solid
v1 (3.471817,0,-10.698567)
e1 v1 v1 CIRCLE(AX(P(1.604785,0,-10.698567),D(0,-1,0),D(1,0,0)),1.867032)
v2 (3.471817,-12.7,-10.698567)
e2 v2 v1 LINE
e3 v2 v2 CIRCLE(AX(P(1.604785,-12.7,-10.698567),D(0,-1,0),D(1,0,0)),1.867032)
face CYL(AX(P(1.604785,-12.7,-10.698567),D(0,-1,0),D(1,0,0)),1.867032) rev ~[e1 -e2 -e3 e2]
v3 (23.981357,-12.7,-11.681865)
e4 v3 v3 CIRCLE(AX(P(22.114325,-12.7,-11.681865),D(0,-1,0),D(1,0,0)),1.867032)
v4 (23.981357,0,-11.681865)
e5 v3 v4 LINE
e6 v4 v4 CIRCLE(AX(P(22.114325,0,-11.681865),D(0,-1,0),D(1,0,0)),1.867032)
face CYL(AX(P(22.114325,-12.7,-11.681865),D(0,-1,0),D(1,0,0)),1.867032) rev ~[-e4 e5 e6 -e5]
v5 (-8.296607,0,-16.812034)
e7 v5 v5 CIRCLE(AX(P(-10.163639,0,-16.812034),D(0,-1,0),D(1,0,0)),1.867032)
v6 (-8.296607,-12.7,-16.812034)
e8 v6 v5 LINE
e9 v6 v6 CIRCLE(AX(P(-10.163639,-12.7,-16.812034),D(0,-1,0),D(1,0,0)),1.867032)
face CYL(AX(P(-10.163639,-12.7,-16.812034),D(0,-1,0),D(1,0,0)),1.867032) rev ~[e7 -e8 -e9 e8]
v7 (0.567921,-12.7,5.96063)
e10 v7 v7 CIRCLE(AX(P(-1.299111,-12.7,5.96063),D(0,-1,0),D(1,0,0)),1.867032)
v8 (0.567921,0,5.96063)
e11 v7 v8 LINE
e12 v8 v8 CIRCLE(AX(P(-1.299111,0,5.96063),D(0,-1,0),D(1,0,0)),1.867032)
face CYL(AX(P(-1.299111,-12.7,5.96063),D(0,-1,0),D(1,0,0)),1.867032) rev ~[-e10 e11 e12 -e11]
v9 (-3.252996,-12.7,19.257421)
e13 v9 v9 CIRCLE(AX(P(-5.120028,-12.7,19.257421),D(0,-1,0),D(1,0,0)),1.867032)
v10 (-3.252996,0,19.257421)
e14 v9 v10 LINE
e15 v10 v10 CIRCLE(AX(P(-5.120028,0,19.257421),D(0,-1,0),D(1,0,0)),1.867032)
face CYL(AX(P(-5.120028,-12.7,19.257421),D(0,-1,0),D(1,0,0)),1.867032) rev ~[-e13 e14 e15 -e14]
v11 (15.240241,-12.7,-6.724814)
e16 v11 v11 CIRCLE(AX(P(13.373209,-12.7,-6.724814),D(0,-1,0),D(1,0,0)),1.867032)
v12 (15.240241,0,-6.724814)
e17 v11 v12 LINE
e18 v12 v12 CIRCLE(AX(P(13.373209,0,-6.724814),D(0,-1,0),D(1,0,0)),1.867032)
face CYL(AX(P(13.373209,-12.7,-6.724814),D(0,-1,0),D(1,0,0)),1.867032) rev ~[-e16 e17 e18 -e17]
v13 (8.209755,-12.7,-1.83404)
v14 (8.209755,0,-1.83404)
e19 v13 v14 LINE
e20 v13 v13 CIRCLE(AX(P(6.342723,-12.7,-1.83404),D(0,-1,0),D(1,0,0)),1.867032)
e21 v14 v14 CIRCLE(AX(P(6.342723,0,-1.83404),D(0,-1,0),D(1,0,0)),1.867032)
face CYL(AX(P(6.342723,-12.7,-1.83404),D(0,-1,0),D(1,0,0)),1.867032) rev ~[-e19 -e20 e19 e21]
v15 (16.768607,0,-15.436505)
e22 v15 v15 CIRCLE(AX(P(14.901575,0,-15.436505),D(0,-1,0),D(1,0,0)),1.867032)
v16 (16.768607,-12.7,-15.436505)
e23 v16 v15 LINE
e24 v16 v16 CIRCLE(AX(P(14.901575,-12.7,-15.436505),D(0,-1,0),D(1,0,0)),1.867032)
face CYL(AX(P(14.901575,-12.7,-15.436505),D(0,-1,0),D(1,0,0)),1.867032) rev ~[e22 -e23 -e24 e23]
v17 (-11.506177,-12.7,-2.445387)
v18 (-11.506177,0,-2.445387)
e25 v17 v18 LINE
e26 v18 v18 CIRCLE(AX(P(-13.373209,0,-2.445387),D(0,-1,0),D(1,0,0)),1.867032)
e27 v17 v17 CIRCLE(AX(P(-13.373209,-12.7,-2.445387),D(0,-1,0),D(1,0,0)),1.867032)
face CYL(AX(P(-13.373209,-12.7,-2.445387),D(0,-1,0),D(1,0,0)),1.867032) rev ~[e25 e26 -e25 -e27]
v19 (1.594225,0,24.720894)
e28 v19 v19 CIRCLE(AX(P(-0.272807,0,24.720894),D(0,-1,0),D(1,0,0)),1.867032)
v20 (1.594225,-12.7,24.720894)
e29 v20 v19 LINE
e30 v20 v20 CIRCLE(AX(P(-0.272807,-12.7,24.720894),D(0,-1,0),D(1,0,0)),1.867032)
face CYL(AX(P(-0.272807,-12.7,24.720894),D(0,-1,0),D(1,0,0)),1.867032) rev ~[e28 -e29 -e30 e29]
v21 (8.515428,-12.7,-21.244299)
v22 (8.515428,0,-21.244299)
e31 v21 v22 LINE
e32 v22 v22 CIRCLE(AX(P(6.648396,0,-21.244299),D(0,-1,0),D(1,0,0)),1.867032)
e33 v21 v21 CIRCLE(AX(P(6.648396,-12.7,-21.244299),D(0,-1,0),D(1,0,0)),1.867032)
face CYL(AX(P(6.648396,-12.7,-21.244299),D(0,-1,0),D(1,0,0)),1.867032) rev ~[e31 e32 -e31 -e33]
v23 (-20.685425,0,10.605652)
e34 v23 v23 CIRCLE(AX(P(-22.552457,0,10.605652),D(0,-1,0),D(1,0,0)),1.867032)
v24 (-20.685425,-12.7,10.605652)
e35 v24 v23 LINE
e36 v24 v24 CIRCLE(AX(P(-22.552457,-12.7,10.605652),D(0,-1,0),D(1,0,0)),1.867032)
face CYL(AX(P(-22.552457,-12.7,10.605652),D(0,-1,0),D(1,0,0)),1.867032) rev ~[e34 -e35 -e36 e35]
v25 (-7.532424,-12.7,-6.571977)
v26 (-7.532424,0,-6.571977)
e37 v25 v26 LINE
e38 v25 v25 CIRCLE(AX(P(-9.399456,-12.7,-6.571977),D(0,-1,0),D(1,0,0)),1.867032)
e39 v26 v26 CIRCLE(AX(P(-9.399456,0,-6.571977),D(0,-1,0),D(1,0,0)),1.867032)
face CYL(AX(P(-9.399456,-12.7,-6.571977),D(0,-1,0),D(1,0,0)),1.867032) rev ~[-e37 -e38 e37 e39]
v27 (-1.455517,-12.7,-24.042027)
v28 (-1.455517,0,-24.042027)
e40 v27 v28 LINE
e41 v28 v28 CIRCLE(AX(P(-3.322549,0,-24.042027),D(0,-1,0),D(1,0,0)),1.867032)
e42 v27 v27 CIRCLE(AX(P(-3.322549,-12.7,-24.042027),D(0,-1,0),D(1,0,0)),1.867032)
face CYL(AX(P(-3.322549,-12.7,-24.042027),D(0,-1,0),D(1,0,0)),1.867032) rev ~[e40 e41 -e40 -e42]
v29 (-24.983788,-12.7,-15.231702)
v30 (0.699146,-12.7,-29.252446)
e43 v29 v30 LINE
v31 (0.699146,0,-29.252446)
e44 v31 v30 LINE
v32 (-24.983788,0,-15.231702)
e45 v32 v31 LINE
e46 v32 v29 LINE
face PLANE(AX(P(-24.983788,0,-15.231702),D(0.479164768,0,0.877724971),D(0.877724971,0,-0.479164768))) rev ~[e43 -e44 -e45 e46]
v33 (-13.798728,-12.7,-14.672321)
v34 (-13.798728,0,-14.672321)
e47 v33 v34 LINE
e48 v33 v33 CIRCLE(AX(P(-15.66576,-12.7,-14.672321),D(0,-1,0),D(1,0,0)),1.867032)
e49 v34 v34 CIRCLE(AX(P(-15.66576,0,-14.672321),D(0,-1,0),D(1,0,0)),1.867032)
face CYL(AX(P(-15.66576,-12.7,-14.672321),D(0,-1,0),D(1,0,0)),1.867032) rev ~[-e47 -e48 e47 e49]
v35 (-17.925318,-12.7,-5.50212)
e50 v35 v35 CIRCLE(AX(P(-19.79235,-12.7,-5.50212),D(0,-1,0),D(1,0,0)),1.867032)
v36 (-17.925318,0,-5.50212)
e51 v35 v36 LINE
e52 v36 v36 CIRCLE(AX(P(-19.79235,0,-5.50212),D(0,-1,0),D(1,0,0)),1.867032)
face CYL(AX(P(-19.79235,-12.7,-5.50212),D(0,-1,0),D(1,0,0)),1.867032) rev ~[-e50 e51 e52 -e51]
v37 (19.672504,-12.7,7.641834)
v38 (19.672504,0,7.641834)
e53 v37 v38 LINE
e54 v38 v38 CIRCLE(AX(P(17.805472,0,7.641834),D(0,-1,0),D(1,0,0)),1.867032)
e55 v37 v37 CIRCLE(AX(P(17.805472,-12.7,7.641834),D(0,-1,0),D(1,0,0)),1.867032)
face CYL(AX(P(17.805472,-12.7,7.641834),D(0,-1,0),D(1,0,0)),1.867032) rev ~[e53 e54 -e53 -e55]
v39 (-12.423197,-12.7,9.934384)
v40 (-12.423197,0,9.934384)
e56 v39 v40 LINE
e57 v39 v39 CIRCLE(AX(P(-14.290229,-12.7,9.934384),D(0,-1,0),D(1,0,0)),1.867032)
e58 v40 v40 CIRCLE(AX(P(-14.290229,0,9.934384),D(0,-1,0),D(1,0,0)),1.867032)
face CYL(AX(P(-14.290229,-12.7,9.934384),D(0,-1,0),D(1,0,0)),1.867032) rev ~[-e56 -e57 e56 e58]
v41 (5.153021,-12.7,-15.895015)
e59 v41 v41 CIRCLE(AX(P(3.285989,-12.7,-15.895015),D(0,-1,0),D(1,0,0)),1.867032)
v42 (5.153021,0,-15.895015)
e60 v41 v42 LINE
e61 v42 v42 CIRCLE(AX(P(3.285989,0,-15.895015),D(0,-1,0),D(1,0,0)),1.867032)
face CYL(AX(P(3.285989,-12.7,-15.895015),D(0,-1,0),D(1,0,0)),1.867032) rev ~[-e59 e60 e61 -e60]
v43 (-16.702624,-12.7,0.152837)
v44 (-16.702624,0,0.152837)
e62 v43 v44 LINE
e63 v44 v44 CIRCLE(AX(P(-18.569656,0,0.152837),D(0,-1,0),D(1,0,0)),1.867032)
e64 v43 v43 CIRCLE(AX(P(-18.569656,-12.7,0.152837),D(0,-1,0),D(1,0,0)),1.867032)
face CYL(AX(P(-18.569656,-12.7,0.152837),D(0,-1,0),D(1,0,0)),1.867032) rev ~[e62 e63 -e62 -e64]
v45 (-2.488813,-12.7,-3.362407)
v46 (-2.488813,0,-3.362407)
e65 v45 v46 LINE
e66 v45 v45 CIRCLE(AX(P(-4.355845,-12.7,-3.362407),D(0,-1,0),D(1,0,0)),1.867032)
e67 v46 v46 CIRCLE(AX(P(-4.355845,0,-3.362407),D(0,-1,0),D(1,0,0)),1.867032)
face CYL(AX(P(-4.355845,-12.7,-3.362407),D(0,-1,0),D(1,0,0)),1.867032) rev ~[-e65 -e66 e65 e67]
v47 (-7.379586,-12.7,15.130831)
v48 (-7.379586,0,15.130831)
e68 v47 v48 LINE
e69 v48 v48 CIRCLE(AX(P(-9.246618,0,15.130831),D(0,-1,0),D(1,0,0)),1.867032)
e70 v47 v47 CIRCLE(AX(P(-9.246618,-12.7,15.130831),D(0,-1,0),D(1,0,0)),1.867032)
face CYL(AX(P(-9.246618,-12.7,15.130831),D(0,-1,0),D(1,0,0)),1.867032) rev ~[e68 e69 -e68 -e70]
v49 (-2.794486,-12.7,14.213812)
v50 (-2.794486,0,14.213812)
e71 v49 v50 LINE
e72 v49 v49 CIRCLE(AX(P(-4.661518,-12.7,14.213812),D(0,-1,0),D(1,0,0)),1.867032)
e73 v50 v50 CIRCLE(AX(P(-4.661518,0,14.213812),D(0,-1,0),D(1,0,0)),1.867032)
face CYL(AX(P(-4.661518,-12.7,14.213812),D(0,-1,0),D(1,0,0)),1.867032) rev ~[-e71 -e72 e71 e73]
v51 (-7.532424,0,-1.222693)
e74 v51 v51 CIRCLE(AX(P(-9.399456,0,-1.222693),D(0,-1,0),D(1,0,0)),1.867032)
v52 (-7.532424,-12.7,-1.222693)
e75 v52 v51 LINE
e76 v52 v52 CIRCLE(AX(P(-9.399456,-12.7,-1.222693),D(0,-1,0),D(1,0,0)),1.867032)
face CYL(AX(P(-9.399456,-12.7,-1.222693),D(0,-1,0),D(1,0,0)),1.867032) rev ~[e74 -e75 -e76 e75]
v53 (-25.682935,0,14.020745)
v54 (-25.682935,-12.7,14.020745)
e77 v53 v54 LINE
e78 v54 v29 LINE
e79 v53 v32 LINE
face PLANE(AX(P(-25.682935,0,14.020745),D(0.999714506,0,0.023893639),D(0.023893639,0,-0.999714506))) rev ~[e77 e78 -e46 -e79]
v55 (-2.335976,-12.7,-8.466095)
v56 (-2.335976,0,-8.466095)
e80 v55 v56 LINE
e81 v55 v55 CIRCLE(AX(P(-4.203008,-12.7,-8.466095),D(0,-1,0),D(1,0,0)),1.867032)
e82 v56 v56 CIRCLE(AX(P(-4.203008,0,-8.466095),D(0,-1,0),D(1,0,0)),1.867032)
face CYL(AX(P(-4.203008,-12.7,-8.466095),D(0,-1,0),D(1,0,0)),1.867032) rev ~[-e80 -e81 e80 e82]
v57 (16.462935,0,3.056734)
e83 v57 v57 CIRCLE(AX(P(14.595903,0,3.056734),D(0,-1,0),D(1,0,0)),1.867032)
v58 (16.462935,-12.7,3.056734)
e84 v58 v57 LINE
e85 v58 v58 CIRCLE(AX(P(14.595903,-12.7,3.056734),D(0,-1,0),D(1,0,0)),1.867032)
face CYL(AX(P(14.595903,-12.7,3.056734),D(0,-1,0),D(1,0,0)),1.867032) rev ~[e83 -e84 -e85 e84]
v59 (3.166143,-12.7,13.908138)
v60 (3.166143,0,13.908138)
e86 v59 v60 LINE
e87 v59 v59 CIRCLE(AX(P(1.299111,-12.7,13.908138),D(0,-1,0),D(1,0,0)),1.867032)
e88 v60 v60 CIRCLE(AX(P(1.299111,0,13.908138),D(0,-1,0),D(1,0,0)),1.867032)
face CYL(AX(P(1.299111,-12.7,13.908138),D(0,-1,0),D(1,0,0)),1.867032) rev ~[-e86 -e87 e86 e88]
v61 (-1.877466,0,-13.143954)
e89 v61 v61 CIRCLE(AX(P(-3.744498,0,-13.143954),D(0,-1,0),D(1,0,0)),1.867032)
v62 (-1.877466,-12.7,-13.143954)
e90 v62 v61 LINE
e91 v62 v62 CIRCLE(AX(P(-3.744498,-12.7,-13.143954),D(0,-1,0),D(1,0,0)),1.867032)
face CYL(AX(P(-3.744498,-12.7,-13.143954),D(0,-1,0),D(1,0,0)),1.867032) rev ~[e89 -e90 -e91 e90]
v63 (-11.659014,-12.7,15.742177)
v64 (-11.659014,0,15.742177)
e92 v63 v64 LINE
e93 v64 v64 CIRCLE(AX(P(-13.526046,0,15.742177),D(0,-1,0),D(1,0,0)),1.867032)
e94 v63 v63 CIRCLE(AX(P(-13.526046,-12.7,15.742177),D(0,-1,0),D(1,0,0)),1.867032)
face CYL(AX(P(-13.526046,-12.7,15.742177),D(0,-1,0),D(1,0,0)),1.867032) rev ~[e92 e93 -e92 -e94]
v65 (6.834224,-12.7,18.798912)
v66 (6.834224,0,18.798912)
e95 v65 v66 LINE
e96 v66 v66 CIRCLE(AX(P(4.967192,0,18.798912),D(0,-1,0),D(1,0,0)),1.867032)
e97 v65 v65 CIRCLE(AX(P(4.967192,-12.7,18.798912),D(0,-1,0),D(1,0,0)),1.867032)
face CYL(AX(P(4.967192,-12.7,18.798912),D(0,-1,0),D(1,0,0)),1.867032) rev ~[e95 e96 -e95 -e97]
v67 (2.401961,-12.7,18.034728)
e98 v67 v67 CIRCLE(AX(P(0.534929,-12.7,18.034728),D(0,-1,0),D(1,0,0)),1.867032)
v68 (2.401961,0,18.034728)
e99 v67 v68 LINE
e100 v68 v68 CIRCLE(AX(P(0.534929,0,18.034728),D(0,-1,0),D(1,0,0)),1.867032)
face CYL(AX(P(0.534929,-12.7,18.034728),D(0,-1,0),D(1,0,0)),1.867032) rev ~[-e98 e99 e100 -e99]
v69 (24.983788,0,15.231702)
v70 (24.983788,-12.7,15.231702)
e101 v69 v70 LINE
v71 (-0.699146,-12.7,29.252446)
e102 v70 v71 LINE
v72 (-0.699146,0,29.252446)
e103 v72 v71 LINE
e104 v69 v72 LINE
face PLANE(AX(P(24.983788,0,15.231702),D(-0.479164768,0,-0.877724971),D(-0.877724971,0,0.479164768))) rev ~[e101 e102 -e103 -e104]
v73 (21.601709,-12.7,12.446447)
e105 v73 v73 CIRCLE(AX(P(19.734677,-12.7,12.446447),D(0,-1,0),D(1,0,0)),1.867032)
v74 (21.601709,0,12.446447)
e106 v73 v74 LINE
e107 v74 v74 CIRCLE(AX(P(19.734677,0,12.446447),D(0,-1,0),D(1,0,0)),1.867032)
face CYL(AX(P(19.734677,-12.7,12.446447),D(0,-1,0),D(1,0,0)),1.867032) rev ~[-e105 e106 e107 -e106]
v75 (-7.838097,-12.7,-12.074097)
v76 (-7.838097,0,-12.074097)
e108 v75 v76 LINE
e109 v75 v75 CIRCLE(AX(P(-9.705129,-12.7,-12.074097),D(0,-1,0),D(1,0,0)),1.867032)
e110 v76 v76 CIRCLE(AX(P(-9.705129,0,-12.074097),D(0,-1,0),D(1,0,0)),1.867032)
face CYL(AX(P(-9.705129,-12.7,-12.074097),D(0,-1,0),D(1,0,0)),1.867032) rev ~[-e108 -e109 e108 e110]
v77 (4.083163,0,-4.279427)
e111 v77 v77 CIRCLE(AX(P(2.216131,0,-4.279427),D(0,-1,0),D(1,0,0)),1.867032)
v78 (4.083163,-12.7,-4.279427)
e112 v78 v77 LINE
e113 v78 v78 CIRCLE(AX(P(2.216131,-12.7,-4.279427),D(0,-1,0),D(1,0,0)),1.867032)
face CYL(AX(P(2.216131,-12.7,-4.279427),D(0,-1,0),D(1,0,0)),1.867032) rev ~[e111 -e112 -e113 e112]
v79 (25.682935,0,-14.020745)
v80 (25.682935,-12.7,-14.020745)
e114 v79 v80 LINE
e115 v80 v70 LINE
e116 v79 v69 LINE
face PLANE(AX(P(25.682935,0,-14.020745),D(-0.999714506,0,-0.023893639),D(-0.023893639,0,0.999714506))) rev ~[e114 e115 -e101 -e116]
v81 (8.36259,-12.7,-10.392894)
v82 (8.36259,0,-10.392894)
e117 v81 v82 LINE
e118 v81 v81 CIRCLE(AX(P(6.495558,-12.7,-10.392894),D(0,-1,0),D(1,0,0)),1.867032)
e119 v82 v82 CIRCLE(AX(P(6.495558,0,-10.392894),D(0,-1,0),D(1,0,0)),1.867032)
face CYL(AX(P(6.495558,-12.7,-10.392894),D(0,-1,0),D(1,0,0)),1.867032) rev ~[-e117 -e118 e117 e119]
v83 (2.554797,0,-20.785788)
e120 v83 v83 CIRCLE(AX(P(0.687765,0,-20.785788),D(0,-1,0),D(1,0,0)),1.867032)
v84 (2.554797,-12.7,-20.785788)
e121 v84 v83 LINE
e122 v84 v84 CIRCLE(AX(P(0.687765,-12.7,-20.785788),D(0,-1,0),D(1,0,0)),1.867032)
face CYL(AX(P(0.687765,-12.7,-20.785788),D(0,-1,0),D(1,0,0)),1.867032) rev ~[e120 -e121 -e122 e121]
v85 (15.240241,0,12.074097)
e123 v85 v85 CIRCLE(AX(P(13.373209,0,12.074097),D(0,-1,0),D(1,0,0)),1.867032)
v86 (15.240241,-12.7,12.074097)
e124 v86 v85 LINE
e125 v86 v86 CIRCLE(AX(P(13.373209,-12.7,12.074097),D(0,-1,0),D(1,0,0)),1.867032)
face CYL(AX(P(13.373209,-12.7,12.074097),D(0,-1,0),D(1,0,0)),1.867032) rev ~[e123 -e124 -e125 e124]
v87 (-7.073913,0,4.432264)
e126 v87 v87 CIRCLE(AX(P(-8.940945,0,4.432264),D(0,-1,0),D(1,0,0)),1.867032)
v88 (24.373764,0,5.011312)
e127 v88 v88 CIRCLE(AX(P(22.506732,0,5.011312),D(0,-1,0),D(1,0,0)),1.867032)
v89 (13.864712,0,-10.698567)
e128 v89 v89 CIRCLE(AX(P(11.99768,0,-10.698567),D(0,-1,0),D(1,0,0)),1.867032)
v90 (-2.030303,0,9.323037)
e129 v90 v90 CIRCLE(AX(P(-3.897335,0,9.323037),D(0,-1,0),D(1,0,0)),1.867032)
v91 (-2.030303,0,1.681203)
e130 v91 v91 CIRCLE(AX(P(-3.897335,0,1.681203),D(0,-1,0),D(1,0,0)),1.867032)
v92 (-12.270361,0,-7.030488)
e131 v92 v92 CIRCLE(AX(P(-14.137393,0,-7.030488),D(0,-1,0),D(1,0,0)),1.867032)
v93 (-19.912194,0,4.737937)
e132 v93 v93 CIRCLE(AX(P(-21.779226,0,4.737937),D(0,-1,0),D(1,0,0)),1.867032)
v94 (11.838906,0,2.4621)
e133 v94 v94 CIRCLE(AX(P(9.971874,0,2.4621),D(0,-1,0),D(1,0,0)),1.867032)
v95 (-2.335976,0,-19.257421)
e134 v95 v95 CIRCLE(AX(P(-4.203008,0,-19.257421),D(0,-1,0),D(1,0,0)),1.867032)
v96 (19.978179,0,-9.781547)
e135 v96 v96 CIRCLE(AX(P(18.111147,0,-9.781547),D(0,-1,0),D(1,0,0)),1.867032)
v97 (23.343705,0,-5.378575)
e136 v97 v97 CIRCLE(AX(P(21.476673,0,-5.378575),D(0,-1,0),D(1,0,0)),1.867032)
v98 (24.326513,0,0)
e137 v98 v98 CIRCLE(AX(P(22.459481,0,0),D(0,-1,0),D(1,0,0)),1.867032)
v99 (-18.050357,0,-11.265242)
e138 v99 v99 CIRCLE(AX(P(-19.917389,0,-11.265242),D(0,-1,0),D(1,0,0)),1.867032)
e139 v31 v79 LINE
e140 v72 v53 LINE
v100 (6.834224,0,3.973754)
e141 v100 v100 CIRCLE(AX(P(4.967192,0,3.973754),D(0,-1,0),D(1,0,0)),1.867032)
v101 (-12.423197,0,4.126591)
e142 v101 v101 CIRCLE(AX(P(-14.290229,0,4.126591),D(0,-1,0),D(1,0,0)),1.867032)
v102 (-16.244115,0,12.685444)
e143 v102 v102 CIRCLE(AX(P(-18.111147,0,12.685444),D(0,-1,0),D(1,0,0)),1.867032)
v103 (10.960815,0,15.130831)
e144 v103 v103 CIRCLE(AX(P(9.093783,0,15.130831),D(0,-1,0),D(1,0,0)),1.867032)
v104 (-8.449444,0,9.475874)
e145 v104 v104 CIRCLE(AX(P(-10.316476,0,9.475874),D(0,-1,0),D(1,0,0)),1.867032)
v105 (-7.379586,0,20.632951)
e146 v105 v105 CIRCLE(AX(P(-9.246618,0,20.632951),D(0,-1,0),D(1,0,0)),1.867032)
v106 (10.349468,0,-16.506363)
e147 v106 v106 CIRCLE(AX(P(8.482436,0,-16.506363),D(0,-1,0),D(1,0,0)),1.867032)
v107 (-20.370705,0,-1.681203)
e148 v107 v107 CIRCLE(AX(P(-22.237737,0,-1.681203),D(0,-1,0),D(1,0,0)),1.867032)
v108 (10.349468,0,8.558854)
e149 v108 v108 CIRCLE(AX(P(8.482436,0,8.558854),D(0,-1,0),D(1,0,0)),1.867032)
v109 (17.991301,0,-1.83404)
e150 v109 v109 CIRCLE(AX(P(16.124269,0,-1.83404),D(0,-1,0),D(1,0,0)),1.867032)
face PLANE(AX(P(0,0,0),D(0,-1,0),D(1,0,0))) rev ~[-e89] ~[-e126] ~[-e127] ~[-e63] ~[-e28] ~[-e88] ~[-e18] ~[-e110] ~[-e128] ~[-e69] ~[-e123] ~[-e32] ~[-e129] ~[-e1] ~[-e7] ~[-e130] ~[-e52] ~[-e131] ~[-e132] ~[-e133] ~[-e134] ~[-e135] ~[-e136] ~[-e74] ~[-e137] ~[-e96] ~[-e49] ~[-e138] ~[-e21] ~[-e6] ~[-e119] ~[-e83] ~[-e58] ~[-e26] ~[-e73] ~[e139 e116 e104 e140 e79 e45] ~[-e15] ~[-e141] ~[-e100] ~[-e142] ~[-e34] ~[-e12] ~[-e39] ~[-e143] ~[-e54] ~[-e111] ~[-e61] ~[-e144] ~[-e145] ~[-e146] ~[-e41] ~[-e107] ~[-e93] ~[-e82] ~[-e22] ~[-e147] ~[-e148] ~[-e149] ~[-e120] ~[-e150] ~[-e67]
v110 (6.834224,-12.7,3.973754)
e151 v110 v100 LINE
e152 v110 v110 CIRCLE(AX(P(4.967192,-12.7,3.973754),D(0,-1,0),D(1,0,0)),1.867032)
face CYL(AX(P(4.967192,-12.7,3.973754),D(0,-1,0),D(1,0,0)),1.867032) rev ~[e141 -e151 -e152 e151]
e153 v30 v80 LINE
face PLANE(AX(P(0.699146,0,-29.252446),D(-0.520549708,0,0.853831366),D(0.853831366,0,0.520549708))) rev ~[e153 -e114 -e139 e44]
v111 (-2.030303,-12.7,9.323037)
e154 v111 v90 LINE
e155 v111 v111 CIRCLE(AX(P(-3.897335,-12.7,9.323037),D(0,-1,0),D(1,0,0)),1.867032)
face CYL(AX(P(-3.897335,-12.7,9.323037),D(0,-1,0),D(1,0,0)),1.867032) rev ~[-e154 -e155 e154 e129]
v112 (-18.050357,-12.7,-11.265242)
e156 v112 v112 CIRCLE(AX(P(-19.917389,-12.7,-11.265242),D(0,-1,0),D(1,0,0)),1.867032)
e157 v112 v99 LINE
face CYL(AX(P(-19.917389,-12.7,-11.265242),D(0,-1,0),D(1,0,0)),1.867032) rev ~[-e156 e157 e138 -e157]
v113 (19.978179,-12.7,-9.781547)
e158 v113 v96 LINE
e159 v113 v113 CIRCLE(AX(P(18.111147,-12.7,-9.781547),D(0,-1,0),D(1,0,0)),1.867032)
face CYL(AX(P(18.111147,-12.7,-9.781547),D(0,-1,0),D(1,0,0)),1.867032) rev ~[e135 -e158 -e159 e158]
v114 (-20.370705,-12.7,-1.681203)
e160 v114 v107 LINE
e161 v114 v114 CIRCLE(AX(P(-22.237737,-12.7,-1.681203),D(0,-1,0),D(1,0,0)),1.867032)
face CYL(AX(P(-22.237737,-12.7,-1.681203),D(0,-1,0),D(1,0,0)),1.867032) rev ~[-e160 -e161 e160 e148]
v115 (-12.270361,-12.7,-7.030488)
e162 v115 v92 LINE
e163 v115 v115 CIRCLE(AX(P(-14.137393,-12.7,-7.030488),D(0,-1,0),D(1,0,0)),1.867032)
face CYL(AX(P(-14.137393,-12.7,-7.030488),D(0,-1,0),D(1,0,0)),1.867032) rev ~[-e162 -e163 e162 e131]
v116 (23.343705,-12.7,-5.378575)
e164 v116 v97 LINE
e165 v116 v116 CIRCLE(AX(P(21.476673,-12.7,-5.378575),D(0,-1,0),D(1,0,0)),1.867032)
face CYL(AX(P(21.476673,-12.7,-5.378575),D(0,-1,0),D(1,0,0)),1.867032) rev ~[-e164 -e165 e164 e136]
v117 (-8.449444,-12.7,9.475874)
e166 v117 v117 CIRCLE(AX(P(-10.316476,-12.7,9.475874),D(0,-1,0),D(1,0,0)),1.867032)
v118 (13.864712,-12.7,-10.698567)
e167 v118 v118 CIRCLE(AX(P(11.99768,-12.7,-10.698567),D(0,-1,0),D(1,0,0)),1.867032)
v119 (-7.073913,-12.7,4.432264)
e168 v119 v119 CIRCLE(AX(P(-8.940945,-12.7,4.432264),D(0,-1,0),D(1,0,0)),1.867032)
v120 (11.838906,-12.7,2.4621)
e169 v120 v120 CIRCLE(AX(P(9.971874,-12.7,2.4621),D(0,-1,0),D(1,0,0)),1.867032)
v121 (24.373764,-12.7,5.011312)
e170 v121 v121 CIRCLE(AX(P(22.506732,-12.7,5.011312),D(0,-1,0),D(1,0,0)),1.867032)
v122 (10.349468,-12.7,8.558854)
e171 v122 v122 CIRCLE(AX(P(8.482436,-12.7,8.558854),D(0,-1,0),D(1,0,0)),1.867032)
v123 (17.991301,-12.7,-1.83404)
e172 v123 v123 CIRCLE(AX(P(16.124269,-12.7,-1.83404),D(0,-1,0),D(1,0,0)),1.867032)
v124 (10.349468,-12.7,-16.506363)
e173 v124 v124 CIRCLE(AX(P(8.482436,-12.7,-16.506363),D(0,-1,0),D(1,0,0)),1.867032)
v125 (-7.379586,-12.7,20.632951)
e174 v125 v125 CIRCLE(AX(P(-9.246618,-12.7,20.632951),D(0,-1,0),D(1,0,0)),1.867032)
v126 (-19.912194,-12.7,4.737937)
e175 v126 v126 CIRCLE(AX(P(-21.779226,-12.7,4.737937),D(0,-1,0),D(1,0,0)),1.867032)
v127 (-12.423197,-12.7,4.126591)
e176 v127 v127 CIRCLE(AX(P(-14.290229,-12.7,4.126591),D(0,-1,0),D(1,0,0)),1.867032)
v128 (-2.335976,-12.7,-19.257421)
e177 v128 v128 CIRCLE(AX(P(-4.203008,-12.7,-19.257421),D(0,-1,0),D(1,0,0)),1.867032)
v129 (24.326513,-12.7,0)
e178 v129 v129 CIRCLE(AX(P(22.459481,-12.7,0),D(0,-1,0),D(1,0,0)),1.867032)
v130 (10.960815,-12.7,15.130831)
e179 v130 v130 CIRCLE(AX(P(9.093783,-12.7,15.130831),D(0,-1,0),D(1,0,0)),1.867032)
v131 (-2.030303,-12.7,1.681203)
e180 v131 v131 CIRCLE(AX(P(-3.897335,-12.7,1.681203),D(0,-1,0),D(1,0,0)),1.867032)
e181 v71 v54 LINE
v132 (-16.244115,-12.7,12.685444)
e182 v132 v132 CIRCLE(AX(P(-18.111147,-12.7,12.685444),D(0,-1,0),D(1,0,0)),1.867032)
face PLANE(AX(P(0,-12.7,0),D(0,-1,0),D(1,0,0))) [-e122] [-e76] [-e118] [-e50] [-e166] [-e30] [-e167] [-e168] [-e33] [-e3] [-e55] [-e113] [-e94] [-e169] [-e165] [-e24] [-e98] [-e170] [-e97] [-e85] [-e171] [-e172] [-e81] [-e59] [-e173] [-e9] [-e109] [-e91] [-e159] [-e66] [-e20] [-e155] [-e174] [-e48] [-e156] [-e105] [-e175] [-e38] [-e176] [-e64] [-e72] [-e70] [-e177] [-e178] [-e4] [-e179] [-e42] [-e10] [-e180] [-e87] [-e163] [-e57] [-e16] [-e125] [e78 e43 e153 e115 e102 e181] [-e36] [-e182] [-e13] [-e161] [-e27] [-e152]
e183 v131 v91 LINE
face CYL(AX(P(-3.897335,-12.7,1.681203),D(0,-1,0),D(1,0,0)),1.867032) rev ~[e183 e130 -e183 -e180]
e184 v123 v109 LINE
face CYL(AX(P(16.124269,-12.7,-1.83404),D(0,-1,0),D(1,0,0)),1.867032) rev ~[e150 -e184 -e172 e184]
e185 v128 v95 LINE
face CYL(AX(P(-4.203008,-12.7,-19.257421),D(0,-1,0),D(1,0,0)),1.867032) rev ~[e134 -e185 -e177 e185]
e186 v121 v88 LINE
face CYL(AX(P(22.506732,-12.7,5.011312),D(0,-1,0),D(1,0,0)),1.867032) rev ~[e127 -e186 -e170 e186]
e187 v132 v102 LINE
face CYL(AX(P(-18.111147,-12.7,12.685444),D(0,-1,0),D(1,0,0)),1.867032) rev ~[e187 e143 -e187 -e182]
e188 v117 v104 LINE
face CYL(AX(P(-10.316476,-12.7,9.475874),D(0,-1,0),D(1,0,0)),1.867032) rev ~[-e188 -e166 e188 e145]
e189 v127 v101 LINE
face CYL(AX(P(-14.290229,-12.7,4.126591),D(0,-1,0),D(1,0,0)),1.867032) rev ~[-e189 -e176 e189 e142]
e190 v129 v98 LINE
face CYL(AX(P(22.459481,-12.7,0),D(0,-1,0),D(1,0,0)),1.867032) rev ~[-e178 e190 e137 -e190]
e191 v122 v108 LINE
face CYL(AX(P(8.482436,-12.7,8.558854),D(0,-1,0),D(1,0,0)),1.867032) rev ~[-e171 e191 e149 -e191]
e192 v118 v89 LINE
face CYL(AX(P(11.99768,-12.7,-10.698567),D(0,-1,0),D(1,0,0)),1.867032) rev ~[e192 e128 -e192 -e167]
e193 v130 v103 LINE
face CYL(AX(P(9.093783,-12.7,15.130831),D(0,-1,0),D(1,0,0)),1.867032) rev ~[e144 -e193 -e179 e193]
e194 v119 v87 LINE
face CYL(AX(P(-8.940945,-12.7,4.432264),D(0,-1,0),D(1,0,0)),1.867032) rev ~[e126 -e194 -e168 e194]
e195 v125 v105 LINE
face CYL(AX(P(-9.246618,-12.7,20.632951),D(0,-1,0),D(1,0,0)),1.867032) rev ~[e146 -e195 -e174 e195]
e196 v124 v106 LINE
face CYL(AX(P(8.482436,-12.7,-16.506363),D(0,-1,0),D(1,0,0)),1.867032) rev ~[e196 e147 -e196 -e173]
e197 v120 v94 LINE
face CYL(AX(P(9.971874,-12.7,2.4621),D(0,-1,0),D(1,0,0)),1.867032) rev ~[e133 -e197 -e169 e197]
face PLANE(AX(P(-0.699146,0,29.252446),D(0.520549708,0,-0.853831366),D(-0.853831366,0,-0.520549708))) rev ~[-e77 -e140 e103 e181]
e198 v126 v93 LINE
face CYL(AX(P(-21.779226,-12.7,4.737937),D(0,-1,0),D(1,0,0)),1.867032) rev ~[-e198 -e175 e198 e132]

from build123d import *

# Parameters (mm, degrees)
F1_DEPTH = 12.7
F2_R     = 1.867032
F3_DEPTH = 14.478


with BuildPart() as f1:
    # F0 (on Front) → F1 (new body)
    with BuildSketch(Plane.XZ):
        Polygon((-0.699146, 29.252446), (-25.682935, 14.020745), (-24.983788, -15.231702), (0.699146, -29.252446), (25.682935, -14.020745), (24.983788, 15.231702), align=None)
    extrude(amount=F1_DEPTH)

    # F2 (on face) → F3 (cut)
    with BuildSketch(Plane.XZ.offset(12.7)):
        with Locations((-22.552457, 10.605652)):
            Circle(F2_R)
        with Locations((-19.917389, -11.265242)):
            Circle(F2_R)
        with Locations((-3.322549, -24.042027)):
            Circle(F2_R)
        with Locations((-4.203008, -8.466095)):
            Circle(F2_R)
        with Locations((9.971874, 2.4621)):
            Circle(F2_R)
        with Locations((22.114325, -11.681865)):
            Circle(F2_R)
        with Locations((21.476673, -5.378575)):
            Circle(F2_R)
        with Locations((22.459481, 0)):
            Circle(F2_R)
        with Locations((22.506732, 5.011312)):
            Circle(F2_R)
        with Locations((19.734677, 12.446447)):
            Circle(F2_R)
        with Locations((-0.272807, 24.720894)):
            Circle(F2_R)
        with Locations((-9.246618, 20.632951)):
            Circle(F2_R)
        with Locations((-9.246618, 15.130831)):
            Circle(F2_R)
        with Locations((-10.316476, 9.475874)):
            Circle(F2_R)
        with Locations((-8.940945, 4.432264)):
            Circle(F2_R)
        with Locations((-9.399456, -1.222693)):
            Circle(F2_R)
        with Locations((-9.399456, -6.571977)):
            Circle(F2_R)
        with Locations((-9.705129, -12.074097)):
            Circle(F2_R)
        with Locations((-10.163639, -16.812034)):
            Circle(F2_R)
        with Locations((-15.66576, -14.672321)):
            Circle(F2_R)
        with Locations((-14.137393, -7.030488)):
            Circle(F2_R)
        with Locations((-13.373209, -2.445387)):
            Circle(F2_R)
        with Locations((-14.290229, 4.126591)):
            Circle(F2_R)
        with Locations((-14.290229, 9.934384)):
            Circle(F2_R)
        with Locations((-13.526046, 15.742177)):
            Circle(F2_R)
        with Locations((-18.111147, 12.685444)):
            Circle(F2_R)
        with Locations((-21.779226, 4.737937)):
            Circle(F2_R)
        with Locations((-18.569656, 0.152837)):
            Circle(F2_R)
        with Locations((-19.79235, -5.50212)):
            Circle(F2_R)
        with Locations((-22.237737, -1.681203)):
            Circle(F2_R)
        with Locations((-5.120028, 19.257421)):
            Circle(F2_R)
        with Locations((-4.661518, 14.213812)):
            Circle(F2_R)
        with Locations((-3.897335, 9.323037)):
            Circle(F2_R)
        with Locations((-1.299111, 5.96063)):
            Circle(F2_R)
        with Locations((4.967192, 3.973754)):
            Circle(F2_R)
        with Locations((14.595903, 3.056734)):
            Circle(F2_R)
        with Locations((17.805472, 7.641834)):
            Circle(F2_R)
        with Locations((13.373209, 12.074097)):
            Circle(F2_R)
        with Locations((9.093783, 15.130831)):
            Circle(F2_R)
        with Locations((4.967192, 18.798912)):
            Circle(F2_R)
        with Locations((0.534929, 18.034728)):
            Circle(F2_R)
        with Locations((1.299111, 13.908138)):
            Circle(F2_R)
        with Locations((8.482436, 8.558854)):
            Circle(F2_R)
        with Locations((-3.897335, 1.681203)):
            Circle(F2_R)
        with Locations((-4.355845, -3.362407)):
            Circle(F2_R)
        with Locations((-3.744498, -13.143954)):
            Circle(F2_R)
        with Locations((-4.203008, -19.257421)):
            Circle(F2_R)
        with Locations((0.687765, -20.785788)):
            Circle(F2_R)
        with Locations((6.648396, -21.244299)):
            Circle(F2_R)
        with Locations((14.901575, -15.436505)):
            Circle(F2_R)
        with Locations((18.111147, -9.781547)):
            Circle(F2_R)
        with Locations((16.124269, -1.83404)):
            Circle(F2_R)
        with Locations((6.342723, -1.83404)):
            Circle(F2_R)
        with Locations((2.216131, -4.279427)):
            Circle(F2_R)
        with Locations((1.604785, -10.698567)):
            Circle(F2_R)
        with Locations((3.285989, -15.895015)):
            Circle(F2_R)
        with Locations((8.482436, -16.506363)):
            Circle(F2_R)
        with Locations((11.99768, -10.698567)):
            Circle(F2_R)
        with Locations((6.495558, -10.392894)):
            Circle(F2_R)
        with Locations((13.373209, -6.724814)):
            Circle(F2_R)
    extrude(amount=-F3_DEPTH, mode=Mode.SUBTRACT)


solid = f1.part
